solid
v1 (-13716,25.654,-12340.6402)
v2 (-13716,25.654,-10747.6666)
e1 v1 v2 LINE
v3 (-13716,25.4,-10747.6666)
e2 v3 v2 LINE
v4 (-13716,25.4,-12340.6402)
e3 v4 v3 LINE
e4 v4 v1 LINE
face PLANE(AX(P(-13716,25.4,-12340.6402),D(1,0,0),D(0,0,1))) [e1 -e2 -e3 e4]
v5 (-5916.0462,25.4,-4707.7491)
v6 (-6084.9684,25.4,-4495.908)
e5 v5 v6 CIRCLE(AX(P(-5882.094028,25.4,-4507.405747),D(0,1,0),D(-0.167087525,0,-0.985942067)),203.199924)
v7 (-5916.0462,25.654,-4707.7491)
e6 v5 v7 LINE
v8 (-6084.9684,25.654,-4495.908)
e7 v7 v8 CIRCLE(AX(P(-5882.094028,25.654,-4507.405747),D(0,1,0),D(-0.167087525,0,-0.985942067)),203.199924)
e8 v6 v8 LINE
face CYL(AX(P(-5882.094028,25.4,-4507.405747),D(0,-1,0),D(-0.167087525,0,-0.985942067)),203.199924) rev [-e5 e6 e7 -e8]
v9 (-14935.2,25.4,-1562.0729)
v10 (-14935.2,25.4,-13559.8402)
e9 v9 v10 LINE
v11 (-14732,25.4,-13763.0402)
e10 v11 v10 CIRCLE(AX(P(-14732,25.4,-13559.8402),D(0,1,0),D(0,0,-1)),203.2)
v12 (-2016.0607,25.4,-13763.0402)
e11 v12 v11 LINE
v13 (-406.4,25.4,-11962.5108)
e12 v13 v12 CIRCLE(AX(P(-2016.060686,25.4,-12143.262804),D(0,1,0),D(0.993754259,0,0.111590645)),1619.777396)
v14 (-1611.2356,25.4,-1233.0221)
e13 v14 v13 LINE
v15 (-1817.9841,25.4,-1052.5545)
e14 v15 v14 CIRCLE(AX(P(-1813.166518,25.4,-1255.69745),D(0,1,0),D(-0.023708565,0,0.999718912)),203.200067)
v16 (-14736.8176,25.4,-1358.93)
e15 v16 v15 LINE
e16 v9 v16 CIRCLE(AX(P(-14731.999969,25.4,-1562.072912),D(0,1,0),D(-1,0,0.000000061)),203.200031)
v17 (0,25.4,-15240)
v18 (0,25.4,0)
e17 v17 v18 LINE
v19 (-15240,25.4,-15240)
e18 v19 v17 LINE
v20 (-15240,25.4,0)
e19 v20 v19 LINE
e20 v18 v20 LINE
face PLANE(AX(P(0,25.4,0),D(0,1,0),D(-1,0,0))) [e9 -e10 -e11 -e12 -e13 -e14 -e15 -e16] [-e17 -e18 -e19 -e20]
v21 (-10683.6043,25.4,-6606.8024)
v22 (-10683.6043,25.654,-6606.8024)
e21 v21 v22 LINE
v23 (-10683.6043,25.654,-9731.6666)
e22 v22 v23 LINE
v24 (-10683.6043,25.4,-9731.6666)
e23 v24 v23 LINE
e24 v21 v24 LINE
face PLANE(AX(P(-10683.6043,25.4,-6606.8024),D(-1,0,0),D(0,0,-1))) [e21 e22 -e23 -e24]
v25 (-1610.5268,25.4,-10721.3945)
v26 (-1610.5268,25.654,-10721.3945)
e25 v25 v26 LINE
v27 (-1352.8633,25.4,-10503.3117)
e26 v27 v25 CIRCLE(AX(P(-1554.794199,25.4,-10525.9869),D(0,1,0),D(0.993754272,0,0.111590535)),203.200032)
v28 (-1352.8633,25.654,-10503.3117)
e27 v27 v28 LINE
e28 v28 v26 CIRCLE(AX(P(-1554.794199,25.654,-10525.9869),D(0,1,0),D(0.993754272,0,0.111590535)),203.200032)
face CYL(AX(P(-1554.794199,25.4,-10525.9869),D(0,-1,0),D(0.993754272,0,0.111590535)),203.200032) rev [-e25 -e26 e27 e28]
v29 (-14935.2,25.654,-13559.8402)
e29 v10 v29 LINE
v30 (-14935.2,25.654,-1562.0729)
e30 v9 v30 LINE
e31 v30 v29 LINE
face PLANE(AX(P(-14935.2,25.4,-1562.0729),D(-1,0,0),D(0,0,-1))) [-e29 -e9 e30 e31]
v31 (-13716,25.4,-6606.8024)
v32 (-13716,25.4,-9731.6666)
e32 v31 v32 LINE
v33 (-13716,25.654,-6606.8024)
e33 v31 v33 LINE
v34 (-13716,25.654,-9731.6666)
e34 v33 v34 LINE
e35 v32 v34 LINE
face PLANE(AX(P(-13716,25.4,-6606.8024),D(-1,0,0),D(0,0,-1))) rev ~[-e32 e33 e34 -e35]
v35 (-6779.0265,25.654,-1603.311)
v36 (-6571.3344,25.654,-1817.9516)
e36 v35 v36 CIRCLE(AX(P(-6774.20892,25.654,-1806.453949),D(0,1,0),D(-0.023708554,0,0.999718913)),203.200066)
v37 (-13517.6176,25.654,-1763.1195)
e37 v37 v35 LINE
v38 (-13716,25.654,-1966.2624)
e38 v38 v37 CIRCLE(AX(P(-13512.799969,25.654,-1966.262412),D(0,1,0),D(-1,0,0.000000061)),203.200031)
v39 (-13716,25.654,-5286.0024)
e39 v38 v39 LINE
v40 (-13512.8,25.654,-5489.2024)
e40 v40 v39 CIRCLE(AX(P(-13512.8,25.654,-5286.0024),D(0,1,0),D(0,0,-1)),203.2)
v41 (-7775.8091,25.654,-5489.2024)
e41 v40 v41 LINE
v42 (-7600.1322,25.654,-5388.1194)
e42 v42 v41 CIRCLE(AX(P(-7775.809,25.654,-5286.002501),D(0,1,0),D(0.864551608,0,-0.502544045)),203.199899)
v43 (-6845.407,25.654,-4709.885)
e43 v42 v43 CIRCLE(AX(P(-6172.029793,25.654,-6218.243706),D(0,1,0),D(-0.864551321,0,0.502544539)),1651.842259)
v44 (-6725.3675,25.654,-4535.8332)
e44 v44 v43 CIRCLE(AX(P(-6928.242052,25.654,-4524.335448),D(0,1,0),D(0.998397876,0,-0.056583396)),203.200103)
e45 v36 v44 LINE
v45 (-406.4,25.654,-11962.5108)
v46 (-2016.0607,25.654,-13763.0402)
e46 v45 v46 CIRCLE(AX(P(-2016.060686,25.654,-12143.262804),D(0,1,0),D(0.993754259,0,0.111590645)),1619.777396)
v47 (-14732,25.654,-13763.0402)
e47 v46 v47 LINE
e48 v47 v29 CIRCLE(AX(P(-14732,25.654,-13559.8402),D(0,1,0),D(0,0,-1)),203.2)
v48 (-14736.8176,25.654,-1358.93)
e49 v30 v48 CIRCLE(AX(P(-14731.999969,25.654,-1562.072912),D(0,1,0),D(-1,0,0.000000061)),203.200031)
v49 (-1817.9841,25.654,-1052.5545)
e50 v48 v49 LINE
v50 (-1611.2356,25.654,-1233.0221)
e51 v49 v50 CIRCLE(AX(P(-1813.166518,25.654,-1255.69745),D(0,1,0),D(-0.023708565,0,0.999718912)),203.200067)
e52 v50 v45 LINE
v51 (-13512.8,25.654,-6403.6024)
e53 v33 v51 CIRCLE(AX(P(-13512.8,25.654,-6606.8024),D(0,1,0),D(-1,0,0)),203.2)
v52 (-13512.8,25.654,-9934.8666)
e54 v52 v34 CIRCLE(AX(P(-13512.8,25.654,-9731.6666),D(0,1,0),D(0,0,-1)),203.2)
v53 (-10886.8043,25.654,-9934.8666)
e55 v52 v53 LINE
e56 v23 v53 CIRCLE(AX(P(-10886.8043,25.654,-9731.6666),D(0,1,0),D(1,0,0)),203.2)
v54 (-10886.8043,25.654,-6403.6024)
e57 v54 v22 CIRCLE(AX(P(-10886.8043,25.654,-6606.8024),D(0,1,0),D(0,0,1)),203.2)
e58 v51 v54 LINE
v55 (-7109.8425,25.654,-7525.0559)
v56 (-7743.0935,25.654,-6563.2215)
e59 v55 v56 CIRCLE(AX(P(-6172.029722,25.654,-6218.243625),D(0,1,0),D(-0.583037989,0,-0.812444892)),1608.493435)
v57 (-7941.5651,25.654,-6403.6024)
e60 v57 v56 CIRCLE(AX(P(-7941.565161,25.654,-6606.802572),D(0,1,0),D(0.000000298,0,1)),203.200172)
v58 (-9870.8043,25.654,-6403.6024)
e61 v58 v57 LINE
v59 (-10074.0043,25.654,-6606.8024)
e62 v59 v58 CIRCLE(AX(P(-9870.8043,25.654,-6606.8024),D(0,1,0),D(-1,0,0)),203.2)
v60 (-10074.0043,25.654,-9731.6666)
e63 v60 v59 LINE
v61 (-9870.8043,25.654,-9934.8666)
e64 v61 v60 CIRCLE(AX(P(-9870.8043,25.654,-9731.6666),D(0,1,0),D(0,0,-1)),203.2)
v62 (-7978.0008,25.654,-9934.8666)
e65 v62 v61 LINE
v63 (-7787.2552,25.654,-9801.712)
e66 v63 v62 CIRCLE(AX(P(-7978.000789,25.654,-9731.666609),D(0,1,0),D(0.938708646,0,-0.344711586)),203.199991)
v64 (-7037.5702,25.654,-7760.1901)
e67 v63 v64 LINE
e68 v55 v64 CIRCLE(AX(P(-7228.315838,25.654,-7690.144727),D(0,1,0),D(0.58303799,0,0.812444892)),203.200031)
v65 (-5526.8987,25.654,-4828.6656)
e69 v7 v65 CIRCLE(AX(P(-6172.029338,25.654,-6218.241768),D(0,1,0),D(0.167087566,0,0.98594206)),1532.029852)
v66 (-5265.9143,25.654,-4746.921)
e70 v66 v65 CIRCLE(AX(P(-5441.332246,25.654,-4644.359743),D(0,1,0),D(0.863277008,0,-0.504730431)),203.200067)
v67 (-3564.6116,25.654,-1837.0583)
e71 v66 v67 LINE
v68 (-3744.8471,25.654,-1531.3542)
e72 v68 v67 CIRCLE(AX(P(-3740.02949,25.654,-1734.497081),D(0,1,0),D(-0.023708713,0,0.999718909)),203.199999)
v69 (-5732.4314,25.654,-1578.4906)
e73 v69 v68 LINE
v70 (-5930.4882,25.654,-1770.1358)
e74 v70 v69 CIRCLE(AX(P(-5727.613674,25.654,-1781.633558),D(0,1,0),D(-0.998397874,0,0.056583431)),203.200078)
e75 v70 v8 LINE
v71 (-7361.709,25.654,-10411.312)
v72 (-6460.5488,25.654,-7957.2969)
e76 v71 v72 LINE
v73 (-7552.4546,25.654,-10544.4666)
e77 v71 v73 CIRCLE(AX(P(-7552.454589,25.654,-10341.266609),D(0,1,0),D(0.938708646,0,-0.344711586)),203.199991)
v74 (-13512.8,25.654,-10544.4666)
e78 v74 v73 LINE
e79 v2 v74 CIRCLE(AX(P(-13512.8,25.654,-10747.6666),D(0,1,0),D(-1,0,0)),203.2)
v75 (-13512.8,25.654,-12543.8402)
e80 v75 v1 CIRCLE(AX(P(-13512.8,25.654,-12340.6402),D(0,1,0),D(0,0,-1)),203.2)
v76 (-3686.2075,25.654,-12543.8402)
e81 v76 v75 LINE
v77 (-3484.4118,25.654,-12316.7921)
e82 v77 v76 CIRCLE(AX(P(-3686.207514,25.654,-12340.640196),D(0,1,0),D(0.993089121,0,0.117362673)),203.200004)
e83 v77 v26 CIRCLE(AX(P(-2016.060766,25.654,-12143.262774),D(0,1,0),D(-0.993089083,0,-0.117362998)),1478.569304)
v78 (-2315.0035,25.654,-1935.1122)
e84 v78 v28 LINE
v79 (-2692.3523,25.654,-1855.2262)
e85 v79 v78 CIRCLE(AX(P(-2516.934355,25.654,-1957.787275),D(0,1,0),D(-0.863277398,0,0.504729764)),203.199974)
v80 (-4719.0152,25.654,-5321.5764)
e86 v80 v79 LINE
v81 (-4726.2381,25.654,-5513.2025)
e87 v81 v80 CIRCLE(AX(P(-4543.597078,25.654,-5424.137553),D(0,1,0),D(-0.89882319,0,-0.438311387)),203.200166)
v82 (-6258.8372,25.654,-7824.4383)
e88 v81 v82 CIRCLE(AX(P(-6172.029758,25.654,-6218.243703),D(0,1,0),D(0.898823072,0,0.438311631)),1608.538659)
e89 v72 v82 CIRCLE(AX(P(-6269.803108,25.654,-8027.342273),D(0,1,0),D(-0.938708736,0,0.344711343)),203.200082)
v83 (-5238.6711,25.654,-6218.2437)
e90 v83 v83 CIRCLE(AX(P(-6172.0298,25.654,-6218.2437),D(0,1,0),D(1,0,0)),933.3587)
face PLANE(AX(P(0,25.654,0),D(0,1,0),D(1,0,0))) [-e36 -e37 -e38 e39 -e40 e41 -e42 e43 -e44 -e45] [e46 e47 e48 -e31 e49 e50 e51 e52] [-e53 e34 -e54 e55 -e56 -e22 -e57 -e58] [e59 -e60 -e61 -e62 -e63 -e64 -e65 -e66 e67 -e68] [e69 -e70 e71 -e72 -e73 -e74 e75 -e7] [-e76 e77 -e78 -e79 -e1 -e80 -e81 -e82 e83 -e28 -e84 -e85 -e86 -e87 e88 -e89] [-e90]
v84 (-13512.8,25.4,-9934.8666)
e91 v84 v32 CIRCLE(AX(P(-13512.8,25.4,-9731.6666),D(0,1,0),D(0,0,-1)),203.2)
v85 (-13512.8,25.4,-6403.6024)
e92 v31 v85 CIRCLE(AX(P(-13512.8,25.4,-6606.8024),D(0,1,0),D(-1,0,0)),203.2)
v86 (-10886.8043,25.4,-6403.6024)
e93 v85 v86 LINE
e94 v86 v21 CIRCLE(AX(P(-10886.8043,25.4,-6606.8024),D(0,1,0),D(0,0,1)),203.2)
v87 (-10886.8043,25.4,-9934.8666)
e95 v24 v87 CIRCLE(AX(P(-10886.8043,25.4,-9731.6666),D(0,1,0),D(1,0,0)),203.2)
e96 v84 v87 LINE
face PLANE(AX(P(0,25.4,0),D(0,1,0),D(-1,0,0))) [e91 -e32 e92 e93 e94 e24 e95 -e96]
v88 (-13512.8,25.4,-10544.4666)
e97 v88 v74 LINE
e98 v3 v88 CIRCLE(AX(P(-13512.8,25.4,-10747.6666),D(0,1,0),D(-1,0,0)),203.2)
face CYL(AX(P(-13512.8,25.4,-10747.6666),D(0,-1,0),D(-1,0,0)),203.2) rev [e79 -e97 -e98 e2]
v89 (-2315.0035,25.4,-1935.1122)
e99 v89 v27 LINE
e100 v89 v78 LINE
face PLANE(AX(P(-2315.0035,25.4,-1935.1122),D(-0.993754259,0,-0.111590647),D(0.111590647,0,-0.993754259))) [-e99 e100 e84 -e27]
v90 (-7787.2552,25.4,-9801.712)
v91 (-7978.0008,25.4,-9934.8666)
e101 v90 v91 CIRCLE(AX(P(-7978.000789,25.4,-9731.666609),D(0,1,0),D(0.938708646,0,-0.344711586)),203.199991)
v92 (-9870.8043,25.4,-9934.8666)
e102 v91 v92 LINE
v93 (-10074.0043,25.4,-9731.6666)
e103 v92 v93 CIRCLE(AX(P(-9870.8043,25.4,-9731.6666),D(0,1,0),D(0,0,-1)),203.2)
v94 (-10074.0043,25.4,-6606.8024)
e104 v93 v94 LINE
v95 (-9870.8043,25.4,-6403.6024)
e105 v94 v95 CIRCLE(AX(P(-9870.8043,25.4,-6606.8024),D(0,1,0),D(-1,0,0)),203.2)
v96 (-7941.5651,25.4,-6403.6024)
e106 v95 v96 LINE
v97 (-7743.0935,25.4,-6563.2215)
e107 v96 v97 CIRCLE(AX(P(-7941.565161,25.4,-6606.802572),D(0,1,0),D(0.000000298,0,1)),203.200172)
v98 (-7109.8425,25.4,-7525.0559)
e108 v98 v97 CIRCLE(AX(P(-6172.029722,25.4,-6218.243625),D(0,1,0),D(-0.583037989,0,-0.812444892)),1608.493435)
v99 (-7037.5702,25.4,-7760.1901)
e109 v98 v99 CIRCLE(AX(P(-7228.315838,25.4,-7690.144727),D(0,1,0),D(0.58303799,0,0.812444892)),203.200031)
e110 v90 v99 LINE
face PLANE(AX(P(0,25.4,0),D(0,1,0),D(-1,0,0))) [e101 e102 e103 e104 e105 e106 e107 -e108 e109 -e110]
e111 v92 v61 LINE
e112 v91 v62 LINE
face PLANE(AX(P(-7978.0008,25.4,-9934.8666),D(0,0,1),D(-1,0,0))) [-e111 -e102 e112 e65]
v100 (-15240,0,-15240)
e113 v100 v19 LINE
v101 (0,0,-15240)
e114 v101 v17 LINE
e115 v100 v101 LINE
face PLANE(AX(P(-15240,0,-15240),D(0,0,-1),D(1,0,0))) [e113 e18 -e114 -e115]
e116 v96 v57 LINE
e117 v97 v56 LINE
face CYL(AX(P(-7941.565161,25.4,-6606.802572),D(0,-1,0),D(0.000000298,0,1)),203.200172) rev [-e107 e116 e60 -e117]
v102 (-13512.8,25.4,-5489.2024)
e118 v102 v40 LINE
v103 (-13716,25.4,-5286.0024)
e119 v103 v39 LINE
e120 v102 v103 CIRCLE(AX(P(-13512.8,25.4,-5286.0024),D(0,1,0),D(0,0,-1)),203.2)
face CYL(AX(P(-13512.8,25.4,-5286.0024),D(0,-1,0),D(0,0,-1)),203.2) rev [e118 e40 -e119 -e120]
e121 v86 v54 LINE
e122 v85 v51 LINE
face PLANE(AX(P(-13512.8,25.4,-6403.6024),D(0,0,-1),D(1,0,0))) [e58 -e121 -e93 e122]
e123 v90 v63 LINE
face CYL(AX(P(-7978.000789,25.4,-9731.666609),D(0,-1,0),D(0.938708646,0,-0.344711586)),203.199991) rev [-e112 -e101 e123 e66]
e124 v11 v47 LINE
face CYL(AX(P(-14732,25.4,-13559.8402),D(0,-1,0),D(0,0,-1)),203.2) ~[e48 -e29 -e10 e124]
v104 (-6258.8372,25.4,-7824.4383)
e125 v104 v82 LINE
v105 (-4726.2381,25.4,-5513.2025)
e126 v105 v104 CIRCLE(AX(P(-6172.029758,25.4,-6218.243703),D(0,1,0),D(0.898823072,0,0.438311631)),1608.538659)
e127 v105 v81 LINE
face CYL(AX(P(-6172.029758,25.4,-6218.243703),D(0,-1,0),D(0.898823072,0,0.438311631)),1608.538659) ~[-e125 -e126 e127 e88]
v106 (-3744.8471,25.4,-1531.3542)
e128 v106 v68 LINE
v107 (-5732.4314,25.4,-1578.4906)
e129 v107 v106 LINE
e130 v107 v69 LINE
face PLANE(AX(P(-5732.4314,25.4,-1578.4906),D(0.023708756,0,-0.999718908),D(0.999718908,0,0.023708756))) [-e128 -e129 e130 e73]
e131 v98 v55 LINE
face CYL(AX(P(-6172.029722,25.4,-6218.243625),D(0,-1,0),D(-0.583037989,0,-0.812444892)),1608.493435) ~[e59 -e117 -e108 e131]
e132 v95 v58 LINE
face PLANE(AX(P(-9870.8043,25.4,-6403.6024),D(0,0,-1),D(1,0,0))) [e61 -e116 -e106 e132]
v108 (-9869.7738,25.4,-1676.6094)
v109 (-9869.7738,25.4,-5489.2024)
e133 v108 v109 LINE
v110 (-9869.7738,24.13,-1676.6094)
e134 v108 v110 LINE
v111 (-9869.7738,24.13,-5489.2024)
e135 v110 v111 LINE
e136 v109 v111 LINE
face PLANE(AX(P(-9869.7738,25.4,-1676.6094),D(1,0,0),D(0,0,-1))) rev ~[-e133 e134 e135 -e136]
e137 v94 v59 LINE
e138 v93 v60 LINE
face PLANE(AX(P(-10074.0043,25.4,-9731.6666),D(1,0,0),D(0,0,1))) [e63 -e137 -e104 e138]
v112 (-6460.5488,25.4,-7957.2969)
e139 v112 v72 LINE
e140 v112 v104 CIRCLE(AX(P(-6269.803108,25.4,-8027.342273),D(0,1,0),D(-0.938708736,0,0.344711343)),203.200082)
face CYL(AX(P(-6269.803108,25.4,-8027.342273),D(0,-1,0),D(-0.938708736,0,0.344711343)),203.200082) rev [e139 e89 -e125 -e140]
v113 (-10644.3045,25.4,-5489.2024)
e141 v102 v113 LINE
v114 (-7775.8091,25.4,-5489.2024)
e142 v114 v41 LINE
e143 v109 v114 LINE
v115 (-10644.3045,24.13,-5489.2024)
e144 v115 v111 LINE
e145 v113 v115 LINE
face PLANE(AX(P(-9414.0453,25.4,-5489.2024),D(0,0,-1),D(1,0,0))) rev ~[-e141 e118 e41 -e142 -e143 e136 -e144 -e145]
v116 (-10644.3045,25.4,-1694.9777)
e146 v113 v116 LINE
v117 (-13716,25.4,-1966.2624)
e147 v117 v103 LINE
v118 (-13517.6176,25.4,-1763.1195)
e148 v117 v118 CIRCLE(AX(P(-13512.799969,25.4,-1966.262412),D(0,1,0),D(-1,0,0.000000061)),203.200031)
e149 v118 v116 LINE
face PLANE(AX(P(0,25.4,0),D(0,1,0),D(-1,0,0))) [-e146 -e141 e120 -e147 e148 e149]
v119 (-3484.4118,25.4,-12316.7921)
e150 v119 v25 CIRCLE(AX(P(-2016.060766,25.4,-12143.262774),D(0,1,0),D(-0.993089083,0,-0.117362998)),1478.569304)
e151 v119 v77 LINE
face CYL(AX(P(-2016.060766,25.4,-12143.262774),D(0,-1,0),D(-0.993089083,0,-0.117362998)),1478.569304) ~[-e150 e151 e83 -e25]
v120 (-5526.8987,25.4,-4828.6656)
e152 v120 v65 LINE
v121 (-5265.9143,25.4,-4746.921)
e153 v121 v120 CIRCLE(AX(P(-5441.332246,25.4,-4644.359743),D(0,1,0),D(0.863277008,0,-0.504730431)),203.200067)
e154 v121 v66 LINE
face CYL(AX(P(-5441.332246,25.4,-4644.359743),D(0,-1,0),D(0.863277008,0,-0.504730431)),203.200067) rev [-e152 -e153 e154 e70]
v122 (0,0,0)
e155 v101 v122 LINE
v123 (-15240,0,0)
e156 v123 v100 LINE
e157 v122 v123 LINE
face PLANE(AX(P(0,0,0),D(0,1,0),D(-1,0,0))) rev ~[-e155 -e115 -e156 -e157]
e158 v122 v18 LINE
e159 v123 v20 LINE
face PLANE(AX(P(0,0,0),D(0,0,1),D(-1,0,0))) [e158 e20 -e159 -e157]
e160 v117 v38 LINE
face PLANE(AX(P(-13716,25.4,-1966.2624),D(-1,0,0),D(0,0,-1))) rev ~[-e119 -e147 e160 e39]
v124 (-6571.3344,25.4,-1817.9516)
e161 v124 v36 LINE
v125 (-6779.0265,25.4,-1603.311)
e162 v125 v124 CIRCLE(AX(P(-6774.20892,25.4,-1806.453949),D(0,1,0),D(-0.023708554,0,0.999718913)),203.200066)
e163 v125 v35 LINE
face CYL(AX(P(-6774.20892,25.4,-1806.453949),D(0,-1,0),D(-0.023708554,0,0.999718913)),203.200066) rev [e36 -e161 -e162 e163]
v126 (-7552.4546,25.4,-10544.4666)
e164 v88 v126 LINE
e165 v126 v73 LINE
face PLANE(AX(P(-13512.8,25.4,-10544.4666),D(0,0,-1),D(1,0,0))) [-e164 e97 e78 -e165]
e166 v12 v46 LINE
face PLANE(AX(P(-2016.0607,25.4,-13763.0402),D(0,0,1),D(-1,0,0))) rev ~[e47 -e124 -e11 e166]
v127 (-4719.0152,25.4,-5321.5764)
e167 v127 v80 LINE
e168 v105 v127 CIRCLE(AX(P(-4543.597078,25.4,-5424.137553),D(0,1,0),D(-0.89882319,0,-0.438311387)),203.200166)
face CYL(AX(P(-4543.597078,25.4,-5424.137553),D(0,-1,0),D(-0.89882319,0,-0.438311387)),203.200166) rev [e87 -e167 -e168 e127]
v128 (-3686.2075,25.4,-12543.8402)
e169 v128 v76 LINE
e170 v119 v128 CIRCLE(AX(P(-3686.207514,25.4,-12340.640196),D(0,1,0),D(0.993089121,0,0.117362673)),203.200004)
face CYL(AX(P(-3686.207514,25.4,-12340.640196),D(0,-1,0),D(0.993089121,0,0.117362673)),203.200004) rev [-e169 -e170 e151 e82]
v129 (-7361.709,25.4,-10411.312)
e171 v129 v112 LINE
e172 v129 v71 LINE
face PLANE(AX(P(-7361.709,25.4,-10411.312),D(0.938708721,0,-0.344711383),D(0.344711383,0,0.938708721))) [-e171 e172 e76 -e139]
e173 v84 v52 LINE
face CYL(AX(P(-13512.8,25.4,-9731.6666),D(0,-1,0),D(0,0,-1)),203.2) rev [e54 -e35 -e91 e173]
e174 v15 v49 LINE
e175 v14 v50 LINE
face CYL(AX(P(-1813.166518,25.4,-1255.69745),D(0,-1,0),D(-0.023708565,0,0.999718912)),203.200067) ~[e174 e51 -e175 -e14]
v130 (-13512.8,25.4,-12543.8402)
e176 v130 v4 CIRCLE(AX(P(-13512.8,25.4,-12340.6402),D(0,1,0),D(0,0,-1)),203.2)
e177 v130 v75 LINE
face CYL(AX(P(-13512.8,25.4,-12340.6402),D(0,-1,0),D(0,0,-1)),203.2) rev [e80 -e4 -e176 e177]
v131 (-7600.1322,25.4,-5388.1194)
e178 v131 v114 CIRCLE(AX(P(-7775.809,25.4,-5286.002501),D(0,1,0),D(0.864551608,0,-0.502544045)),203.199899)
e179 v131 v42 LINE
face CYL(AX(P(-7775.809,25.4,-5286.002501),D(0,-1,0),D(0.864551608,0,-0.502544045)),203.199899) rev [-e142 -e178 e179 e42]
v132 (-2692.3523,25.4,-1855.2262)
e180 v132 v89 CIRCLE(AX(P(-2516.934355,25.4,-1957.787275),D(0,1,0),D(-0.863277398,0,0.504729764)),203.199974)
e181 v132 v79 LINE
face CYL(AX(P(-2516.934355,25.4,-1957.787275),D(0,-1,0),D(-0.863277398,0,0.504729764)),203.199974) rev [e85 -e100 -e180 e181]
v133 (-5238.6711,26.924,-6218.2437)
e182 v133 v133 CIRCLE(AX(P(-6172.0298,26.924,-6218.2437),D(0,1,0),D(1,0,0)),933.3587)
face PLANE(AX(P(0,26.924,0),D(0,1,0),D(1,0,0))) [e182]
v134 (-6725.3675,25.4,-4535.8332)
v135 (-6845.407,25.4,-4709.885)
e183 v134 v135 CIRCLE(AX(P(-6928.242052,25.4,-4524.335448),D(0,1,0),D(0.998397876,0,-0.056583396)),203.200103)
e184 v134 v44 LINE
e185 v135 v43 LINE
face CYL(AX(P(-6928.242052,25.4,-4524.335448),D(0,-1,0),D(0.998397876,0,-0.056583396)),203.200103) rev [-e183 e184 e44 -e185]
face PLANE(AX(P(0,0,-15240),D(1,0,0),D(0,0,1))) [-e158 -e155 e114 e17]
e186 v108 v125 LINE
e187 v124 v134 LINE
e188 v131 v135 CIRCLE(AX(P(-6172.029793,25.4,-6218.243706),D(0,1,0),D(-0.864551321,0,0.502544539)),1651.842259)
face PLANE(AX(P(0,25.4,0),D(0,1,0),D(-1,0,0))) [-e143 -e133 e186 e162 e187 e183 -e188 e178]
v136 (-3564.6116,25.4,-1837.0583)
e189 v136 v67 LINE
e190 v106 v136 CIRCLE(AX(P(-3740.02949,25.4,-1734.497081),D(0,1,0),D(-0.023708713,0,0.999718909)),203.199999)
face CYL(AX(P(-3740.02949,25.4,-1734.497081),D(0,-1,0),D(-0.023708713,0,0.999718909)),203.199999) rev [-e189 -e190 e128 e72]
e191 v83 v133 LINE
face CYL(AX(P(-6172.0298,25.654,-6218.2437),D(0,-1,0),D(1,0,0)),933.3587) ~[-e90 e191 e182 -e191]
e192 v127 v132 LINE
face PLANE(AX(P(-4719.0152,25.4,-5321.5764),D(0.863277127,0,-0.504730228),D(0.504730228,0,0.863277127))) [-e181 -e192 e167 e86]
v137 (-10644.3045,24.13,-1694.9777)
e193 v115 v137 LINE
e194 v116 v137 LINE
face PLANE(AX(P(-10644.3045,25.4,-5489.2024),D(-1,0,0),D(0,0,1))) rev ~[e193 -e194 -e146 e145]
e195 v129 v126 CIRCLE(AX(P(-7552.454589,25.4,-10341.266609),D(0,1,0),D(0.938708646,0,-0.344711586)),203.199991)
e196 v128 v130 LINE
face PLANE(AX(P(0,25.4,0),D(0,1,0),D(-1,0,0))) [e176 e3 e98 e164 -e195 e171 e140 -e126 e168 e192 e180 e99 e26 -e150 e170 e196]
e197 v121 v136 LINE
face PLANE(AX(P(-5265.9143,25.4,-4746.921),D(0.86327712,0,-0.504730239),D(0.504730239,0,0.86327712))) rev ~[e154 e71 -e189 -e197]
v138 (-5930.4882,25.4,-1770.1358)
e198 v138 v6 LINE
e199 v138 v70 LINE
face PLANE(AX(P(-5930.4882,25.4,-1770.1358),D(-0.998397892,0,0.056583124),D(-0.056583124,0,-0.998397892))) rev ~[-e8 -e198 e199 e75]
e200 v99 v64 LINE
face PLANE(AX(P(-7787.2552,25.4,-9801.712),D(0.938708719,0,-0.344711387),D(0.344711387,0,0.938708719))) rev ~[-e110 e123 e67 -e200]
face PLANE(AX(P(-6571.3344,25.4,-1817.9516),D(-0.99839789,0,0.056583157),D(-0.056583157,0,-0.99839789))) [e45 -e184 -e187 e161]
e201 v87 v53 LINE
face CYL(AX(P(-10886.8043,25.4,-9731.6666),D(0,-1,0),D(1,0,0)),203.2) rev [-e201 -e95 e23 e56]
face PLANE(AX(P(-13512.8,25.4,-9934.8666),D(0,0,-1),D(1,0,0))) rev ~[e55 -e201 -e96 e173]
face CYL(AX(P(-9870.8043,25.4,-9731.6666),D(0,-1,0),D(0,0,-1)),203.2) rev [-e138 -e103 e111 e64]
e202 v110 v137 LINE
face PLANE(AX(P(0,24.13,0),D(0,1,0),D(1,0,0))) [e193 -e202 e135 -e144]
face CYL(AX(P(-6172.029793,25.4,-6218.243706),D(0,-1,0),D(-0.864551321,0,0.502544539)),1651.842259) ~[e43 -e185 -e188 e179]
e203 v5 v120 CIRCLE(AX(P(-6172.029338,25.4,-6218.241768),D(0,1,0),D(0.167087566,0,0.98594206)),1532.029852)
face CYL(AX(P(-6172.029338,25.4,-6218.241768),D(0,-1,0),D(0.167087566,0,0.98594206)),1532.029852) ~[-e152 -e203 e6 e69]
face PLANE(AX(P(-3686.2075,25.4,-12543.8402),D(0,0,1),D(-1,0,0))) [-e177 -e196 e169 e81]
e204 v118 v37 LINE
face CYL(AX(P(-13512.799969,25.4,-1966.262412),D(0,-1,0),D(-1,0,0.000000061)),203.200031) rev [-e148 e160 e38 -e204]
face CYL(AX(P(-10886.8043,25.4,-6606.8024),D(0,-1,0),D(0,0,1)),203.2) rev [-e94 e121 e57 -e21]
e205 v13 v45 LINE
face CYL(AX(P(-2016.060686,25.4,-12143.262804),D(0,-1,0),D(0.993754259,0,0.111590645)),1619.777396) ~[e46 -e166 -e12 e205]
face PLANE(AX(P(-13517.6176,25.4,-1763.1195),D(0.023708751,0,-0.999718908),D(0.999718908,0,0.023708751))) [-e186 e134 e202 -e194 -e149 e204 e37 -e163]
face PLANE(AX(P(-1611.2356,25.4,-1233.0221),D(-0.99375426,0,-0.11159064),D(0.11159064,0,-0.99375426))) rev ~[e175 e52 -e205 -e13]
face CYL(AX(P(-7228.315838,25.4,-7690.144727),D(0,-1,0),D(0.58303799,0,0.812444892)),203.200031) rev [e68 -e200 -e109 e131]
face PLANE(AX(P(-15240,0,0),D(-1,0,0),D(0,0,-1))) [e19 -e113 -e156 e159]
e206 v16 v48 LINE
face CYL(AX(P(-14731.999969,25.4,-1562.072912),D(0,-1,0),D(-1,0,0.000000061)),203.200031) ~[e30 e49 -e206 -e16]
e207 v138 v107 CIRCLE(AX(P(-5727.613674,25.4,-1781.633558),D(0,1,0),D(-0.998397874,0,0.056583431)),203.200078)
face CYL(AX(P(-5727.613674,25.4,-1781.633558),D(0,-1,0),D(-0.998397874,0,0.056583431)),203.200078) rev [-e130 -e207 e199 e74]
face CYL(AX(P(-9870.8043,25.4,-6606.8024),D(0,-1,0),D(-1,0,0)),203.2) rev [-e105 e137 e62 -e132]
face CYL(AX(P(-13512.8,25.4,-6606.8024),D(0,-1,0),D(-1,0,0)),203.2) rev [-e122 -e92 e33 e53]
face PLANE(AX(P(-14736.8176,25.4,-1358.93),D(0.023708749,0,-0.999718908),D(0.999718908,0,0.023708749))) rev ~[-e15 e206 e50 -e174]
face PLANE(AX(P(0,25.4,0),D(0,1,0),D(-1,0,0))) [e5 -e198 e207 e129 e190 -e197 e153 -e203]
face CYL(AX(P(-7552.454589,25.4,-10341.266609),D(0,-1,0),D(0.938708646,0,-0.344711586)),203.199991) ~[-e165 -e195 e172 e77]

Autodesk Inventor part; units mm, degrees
ref_plane "YZ Plane" through (0, 0, 0) normal (1, 0, 0) x (0, 1, 0)
ref_plane "XZ Plane" through (0, 0, 0) normal (0, 1, 0) x (-1, 0, 0)
ref_plane "XY Plane" through (0, 0, 0) normal (0, 0, 1) x (1, 0, 0)
sketch "Sketch1" plane through (0, 0, 0) normal (0, 1, 0) x (-1, 0, 0)
  line L0 (0, 0) -> (15240, 0)
  line L1 (15240, 0) -> (15240, -15240)
  line L2 (15240, -15240) -> (0, -15240)
  line L3 (0, -15240) -> (0, 0)
  dimension "d0" = 15240
  dimension "d1" = 15240
extrude "Extrusion1" add sketch "Sketch1" along normal blind 25.4
sketch "Sketch2" plane through (0, 25.4, 0) normal (0, 1, 0) x (1, 0, 0)
  line L0 (-14935.2, 1562.0729) -> (-14935.2, 13559.8402)
  line L1 (-14736.8176, 1358.93) -> (-1817.9841, 1052.5545)
  line L2 (-1611.2356, 1233.0221) -> (-406.4, 11962.5108)
  line L3 (-2016.0607, 13763.0402) -> (-14732, 13763.0402)
  line L4 (-2315.0035, 1935.1122) -> (-1352.8633, 10503.3117)
  line L5 (-3686.2075, 12543.8402) -> (-13512.8, 12543.8402)
  line L6 (-13716, 12340.6402) -> (-13716, 10747.6666)
  line L7 (-13512.8, 10544.4666) -> (-7552.4546, 10544.4666)
  line L8 (-7361.709, 10411.312) -> (-6460.5488, 7957.2969)
  line L9 (-13512.8, 6403.6024) -> (-10886.8043, 6403.6024)
  line L10 (-10683.6043, 6606.8024) -> (-10683.6043, 9731.6666)
  line L11 (-13512.8, 5489.2024) -> (-10683.6043, 5489.2024)
  line L12 (-10683.6043, 5489.2024) -> (-9414.0453, 5489.2024)
  line L13 (-9414.0453, 5489.2024) -> (-7775.8091, 5489.2024)
  line L14 (-7978.0008, 9934.8666) -> (-9870.8043, 9934.8666)
  line L15 (-10074.0043, 9731.6666) -> (-10074.0043, 6606.8024)
  line L16 (-9870.8043, 6403.6024) -> (-7941.5651, 6403.6024)
  line L17 (-13716, 6606.8024) -> (-13716, 9731.6666)
  line L18 (-13512.8, 9934.8666) -> (-10886.8043, 9934.8666)
  line L19 (-13716, 1966.2624) -> (-13716, 5286.0024)
  line L20 (-5265.9143, 4746.921) -> (-3564.6116, 1837.0583)
  line L21 (-4719.0152, 5321.5764) -> (-2692.3523, 1855.2262)
  line L22 (-7787.2552, 9801.712) -> (-7037.5702, 7760.1901)
  line L23 (-15240, 15240) -> (-15240, 0) projected
  line L24 (-6571.3344, 1817.9516) -> (-6725.3675, 4535.8332)
  line L25 (-5930.4882, 1770.1358) -> (-6084.9684, 4495.908)
  arc A0 (-7600.1322, 5388.1194) -> (-6845.407, 4709.885) centre (-6172.0298, 6218.2437) ccw
  arc A1 (-5916.0462, 4707.7491) -> (-5526.8987, 4828.6656) centre (-6172.0298, 6218.2437) ccw
  arc A2 (-4726.2381, 5513.2025) -> (-6258.8372, 7824.4383) centre (-6172.0298, 6218.2437) ccw
  arc A3 (-7109.8425, 7525.0559) -> (-7743.0935, 6563.2215) centre (-6172.0298, 6218.2437) ccw
  arc A4 (-3484.4118, 12316.7921) -> (-1610.5268, 10721.3945) centre (-2016.0607, 12143.2628) ccw
  arc A5 (-406.4, 11962.5108) -> (-2016.0607, 13763.0402) centre (-2016.0607, 12143.2628) ccw
  arc A6 (-13512.8, 5489.2024) -> (-13716, 5286.0024) centre (-13512.8, 5286.0024) ccw
  arc A7 (-13716, 6606.8024) -> (-13512.8, 6403.6024) centre (-13512.8, 6606.8024) ccw
  arc A8 (-10886.8043, 6403.6024) -> (-10683.6043, 6606.8024) centre (-10886.8043, 6606.8024) ccw
  arc A9 (-10074.0043, 6606.8024) -> (-9870.8043, 6403.6024) centre (-9870.8043, 6606.8024) ccw
  arc A10 (-10683.6043, 9731.6666) -> (-10886.8043, 9934.8666) centre (-10886.8043, 9731.6666) ccw
  arc A11 (-9870.8043, 9934.8666) -> (-10074.0043, 9731.6666) centre (-9870.8043, 9731.6666) ccw
  arc A12 (-7787.2552, 9801.712) -> (-7978.0008, 9934.8666) centre (-7978.0008, 9731.6666) ccw
  arc A13 (-7361.709, 10411.312) -> (-7552.4546, 10544.4666) centre (-7552.4546, 10341.2666) ccw
  arc A14 (-13512.8, 9934.8666) -> (-13716, 9731.6666) centre (-13512.8, 9731.6666) ccw
  arc A15 (-13716, 10747.6666) -> (-13512.8, 10544.4666) centre (-13512.8, 10747.6666) ccw
  arc A16 (-13716, 1966.2624) -> (-13517.6176, 1763.1195) centre (-13512.8, 1966.2624) ccw
  arc A17 (-7600.1322, 5388.1194) -> (-7775.8091, 5489.2024) centre (-7775.8091, 5286.0024) ccw
  arc A18 (-7941.5651, 6403.6024) -> (-7743.0935, 6563.2215) centre (-7941.5651, 6606.8024) ccw
  arc A19 (-7109.8425, 7525.0559) -> (-7037.5702, 7760.1901) centre (-7228.3158, 7690.1447) ccw
  arc A20 (-6460.5488, 7957.2969) -> (-6258.8372, 7824.4383) centre (-6269.8032, 8027.3422) ccw
  arc A21 (-3484.4118, 12316.7921) -> (-3686.2075, 12543.8402) centre (-3686.2075, 12340.6402) ccw
  arc A22 (-1352.8633, 10503.3117) -> (-1610.5268, 10721.3945) centre (-1554.7942, 10525.9869) ccw
  arc A23 (-13512.8, 12543.8402) -> (-13716, 12340.6402) centre (-13512.8, 12340.6402) ccw
  arc A24 (-14732, 13763.0402) -> (-14935.2, 13559.8402) centre (-14732, 13559.8402) ccw
  arc A25 (-14935.2, 1562.0729) -> (-14736.8176, 1358.93) centre (-14732, 1562.0729) ccw
  arc A26 (-1817.9841, 1052.5545) -> (-1611.2356, 1233.0221) centre (-1813.1665, 1255.6974) ccw
  line L26 (-13517.6176, 1763.1195) -> (-6779.0265, 1603.311)
  line L27 (-5732.4314, 1578.4906) -> (-3744.8471, 1531.3542)
  arc A27 (-6779.0265, 1603.311) -> (-6571.3344, 1817.9516) centre (-6774.2089, 1806.4539) ccw
  arc A28 (-5930.4882, 1770.1358) -> (-5732.4314, 1578.4906) centre (-5727.6138, 1781.6335) ccw
  arc A29 (-3744.8471, 1531.3542) -> (-3564.6116, 1837.0583) centre (-3740.0295, 1734.4971) ccw
  arc A30 (-2692.3523, 1855.2262) -> (-2315.0035, 1935.1122) centre (-2516.9343, 1957.7874) ccw
  arc A31 (-4726.2381, 5513.2025) -> (-4719.0152, 5321.5764) centre (-4543.5973, 5424.1376) ccw
  arc A32 (-5265.9143, 4746.921) -> (-5526.8987, 4828.6656) centre (-5441.3322, 4644.3598) ccw
  arc A33 (-5916.0462, 4707.7491) -> (-6084.9684, 4495.908) centre (-5882.094, 4507.4057) ccw
  arc A34 (-6725.3675, 4535.8332) -> (-6845.407, 4709.885) centre (-6928.2419, 4524.3355) ccw
  line L28 (0, 0) -> (0, 15240) projected
  point P0 (-3439.3334, 12543.8402)
  point P1 (-6406.322, 7809.628)
  point P2 (-7654.2854, 5489.2024)
  point P3 (-7769.8073, 6403.6024)
  point P4 (-5364.833, 4916.109)
  point P5 (-4776.041, 5419.1118)
  point P6 (-6981.7147, 7608.0859)
  point P7 (-6732.6566, 4664.4482)
  point P8 (-6095.8611, 4688.1065)
  point P9 (-1314.8846, 10841.5257)
  dimension "d4" = 304.8
  dimension "d5" = 1219.2
  dimension "d6" = 1219.2
  dimension "d7" = 1219.2
  dimension "d8" = 1219.2
  dimension "d9" = 609.6
  dimension "d10" = 914.4
  dimension "d11" = 609.6
  dimension "d12" = 914.4
  dimension "d14" = 609.6
  dimension "d16" = 203.2
  dimension "d17" = 609.6
  dimension "d18" = 203.2
  dimension "d19" = 203.2
  dimension "d20" = 406.4
extrude "Extrusion2" add sketch "Sketch2" along normal blind 0.254
sketch "Sketch3" plane through (0, 25.4, 0) normal (0, 1, 0) x (1, 0, 0)
  line L0 (-13512.8, 5489.2024) -> (-7775.8091, 5489.2024) projected
  line L1 (-10644.3045, 5489.2024) -> (-10644.3045, 1694.9777)
  line L2 (-6779.0265, 1603.311) -> (-13517.6176, 1763.1195) projected
  line L3 (-9869.7738, 1676.6094) -> (-9869.7738, 5489.2024)
  line L4 (-10644.3045, 5489.2024) -> (-9869.7738, 5489.2024)
  line L5 (-9869.7738, 1676.6094) -> (-10644.3045, 1694.9777)
  point P0 (0, 0)
extrude "Extrusion3" cut sketch "Sketch3" against normal blind 1.27
sketch "Sketch4" plane through (0, 25.654, 0) normal (0, 1, 0) x (1, 0, 0)
  arc A0 (-4726.2381, 5513.2025) -> (-6258.8372, 7824.4383) centre (-6172.0298, 6218.2437) ccw projected
  circle A1 centre (-6172.0298, 6218.2437) radius 933.3587
  point P0 (0, 0)
extrude "Extrusion4" add sketch "Sketch4" along normal blind 1.27
equation "\"d6\" = d5"
equation "\"d7\" = d6"
equation "\"d8\" = d7"
equation "\"d12\" = d10"
equation "\"d14\" = d9"
equation "\"d17\" = d14"
properties part number "Mcity track"
